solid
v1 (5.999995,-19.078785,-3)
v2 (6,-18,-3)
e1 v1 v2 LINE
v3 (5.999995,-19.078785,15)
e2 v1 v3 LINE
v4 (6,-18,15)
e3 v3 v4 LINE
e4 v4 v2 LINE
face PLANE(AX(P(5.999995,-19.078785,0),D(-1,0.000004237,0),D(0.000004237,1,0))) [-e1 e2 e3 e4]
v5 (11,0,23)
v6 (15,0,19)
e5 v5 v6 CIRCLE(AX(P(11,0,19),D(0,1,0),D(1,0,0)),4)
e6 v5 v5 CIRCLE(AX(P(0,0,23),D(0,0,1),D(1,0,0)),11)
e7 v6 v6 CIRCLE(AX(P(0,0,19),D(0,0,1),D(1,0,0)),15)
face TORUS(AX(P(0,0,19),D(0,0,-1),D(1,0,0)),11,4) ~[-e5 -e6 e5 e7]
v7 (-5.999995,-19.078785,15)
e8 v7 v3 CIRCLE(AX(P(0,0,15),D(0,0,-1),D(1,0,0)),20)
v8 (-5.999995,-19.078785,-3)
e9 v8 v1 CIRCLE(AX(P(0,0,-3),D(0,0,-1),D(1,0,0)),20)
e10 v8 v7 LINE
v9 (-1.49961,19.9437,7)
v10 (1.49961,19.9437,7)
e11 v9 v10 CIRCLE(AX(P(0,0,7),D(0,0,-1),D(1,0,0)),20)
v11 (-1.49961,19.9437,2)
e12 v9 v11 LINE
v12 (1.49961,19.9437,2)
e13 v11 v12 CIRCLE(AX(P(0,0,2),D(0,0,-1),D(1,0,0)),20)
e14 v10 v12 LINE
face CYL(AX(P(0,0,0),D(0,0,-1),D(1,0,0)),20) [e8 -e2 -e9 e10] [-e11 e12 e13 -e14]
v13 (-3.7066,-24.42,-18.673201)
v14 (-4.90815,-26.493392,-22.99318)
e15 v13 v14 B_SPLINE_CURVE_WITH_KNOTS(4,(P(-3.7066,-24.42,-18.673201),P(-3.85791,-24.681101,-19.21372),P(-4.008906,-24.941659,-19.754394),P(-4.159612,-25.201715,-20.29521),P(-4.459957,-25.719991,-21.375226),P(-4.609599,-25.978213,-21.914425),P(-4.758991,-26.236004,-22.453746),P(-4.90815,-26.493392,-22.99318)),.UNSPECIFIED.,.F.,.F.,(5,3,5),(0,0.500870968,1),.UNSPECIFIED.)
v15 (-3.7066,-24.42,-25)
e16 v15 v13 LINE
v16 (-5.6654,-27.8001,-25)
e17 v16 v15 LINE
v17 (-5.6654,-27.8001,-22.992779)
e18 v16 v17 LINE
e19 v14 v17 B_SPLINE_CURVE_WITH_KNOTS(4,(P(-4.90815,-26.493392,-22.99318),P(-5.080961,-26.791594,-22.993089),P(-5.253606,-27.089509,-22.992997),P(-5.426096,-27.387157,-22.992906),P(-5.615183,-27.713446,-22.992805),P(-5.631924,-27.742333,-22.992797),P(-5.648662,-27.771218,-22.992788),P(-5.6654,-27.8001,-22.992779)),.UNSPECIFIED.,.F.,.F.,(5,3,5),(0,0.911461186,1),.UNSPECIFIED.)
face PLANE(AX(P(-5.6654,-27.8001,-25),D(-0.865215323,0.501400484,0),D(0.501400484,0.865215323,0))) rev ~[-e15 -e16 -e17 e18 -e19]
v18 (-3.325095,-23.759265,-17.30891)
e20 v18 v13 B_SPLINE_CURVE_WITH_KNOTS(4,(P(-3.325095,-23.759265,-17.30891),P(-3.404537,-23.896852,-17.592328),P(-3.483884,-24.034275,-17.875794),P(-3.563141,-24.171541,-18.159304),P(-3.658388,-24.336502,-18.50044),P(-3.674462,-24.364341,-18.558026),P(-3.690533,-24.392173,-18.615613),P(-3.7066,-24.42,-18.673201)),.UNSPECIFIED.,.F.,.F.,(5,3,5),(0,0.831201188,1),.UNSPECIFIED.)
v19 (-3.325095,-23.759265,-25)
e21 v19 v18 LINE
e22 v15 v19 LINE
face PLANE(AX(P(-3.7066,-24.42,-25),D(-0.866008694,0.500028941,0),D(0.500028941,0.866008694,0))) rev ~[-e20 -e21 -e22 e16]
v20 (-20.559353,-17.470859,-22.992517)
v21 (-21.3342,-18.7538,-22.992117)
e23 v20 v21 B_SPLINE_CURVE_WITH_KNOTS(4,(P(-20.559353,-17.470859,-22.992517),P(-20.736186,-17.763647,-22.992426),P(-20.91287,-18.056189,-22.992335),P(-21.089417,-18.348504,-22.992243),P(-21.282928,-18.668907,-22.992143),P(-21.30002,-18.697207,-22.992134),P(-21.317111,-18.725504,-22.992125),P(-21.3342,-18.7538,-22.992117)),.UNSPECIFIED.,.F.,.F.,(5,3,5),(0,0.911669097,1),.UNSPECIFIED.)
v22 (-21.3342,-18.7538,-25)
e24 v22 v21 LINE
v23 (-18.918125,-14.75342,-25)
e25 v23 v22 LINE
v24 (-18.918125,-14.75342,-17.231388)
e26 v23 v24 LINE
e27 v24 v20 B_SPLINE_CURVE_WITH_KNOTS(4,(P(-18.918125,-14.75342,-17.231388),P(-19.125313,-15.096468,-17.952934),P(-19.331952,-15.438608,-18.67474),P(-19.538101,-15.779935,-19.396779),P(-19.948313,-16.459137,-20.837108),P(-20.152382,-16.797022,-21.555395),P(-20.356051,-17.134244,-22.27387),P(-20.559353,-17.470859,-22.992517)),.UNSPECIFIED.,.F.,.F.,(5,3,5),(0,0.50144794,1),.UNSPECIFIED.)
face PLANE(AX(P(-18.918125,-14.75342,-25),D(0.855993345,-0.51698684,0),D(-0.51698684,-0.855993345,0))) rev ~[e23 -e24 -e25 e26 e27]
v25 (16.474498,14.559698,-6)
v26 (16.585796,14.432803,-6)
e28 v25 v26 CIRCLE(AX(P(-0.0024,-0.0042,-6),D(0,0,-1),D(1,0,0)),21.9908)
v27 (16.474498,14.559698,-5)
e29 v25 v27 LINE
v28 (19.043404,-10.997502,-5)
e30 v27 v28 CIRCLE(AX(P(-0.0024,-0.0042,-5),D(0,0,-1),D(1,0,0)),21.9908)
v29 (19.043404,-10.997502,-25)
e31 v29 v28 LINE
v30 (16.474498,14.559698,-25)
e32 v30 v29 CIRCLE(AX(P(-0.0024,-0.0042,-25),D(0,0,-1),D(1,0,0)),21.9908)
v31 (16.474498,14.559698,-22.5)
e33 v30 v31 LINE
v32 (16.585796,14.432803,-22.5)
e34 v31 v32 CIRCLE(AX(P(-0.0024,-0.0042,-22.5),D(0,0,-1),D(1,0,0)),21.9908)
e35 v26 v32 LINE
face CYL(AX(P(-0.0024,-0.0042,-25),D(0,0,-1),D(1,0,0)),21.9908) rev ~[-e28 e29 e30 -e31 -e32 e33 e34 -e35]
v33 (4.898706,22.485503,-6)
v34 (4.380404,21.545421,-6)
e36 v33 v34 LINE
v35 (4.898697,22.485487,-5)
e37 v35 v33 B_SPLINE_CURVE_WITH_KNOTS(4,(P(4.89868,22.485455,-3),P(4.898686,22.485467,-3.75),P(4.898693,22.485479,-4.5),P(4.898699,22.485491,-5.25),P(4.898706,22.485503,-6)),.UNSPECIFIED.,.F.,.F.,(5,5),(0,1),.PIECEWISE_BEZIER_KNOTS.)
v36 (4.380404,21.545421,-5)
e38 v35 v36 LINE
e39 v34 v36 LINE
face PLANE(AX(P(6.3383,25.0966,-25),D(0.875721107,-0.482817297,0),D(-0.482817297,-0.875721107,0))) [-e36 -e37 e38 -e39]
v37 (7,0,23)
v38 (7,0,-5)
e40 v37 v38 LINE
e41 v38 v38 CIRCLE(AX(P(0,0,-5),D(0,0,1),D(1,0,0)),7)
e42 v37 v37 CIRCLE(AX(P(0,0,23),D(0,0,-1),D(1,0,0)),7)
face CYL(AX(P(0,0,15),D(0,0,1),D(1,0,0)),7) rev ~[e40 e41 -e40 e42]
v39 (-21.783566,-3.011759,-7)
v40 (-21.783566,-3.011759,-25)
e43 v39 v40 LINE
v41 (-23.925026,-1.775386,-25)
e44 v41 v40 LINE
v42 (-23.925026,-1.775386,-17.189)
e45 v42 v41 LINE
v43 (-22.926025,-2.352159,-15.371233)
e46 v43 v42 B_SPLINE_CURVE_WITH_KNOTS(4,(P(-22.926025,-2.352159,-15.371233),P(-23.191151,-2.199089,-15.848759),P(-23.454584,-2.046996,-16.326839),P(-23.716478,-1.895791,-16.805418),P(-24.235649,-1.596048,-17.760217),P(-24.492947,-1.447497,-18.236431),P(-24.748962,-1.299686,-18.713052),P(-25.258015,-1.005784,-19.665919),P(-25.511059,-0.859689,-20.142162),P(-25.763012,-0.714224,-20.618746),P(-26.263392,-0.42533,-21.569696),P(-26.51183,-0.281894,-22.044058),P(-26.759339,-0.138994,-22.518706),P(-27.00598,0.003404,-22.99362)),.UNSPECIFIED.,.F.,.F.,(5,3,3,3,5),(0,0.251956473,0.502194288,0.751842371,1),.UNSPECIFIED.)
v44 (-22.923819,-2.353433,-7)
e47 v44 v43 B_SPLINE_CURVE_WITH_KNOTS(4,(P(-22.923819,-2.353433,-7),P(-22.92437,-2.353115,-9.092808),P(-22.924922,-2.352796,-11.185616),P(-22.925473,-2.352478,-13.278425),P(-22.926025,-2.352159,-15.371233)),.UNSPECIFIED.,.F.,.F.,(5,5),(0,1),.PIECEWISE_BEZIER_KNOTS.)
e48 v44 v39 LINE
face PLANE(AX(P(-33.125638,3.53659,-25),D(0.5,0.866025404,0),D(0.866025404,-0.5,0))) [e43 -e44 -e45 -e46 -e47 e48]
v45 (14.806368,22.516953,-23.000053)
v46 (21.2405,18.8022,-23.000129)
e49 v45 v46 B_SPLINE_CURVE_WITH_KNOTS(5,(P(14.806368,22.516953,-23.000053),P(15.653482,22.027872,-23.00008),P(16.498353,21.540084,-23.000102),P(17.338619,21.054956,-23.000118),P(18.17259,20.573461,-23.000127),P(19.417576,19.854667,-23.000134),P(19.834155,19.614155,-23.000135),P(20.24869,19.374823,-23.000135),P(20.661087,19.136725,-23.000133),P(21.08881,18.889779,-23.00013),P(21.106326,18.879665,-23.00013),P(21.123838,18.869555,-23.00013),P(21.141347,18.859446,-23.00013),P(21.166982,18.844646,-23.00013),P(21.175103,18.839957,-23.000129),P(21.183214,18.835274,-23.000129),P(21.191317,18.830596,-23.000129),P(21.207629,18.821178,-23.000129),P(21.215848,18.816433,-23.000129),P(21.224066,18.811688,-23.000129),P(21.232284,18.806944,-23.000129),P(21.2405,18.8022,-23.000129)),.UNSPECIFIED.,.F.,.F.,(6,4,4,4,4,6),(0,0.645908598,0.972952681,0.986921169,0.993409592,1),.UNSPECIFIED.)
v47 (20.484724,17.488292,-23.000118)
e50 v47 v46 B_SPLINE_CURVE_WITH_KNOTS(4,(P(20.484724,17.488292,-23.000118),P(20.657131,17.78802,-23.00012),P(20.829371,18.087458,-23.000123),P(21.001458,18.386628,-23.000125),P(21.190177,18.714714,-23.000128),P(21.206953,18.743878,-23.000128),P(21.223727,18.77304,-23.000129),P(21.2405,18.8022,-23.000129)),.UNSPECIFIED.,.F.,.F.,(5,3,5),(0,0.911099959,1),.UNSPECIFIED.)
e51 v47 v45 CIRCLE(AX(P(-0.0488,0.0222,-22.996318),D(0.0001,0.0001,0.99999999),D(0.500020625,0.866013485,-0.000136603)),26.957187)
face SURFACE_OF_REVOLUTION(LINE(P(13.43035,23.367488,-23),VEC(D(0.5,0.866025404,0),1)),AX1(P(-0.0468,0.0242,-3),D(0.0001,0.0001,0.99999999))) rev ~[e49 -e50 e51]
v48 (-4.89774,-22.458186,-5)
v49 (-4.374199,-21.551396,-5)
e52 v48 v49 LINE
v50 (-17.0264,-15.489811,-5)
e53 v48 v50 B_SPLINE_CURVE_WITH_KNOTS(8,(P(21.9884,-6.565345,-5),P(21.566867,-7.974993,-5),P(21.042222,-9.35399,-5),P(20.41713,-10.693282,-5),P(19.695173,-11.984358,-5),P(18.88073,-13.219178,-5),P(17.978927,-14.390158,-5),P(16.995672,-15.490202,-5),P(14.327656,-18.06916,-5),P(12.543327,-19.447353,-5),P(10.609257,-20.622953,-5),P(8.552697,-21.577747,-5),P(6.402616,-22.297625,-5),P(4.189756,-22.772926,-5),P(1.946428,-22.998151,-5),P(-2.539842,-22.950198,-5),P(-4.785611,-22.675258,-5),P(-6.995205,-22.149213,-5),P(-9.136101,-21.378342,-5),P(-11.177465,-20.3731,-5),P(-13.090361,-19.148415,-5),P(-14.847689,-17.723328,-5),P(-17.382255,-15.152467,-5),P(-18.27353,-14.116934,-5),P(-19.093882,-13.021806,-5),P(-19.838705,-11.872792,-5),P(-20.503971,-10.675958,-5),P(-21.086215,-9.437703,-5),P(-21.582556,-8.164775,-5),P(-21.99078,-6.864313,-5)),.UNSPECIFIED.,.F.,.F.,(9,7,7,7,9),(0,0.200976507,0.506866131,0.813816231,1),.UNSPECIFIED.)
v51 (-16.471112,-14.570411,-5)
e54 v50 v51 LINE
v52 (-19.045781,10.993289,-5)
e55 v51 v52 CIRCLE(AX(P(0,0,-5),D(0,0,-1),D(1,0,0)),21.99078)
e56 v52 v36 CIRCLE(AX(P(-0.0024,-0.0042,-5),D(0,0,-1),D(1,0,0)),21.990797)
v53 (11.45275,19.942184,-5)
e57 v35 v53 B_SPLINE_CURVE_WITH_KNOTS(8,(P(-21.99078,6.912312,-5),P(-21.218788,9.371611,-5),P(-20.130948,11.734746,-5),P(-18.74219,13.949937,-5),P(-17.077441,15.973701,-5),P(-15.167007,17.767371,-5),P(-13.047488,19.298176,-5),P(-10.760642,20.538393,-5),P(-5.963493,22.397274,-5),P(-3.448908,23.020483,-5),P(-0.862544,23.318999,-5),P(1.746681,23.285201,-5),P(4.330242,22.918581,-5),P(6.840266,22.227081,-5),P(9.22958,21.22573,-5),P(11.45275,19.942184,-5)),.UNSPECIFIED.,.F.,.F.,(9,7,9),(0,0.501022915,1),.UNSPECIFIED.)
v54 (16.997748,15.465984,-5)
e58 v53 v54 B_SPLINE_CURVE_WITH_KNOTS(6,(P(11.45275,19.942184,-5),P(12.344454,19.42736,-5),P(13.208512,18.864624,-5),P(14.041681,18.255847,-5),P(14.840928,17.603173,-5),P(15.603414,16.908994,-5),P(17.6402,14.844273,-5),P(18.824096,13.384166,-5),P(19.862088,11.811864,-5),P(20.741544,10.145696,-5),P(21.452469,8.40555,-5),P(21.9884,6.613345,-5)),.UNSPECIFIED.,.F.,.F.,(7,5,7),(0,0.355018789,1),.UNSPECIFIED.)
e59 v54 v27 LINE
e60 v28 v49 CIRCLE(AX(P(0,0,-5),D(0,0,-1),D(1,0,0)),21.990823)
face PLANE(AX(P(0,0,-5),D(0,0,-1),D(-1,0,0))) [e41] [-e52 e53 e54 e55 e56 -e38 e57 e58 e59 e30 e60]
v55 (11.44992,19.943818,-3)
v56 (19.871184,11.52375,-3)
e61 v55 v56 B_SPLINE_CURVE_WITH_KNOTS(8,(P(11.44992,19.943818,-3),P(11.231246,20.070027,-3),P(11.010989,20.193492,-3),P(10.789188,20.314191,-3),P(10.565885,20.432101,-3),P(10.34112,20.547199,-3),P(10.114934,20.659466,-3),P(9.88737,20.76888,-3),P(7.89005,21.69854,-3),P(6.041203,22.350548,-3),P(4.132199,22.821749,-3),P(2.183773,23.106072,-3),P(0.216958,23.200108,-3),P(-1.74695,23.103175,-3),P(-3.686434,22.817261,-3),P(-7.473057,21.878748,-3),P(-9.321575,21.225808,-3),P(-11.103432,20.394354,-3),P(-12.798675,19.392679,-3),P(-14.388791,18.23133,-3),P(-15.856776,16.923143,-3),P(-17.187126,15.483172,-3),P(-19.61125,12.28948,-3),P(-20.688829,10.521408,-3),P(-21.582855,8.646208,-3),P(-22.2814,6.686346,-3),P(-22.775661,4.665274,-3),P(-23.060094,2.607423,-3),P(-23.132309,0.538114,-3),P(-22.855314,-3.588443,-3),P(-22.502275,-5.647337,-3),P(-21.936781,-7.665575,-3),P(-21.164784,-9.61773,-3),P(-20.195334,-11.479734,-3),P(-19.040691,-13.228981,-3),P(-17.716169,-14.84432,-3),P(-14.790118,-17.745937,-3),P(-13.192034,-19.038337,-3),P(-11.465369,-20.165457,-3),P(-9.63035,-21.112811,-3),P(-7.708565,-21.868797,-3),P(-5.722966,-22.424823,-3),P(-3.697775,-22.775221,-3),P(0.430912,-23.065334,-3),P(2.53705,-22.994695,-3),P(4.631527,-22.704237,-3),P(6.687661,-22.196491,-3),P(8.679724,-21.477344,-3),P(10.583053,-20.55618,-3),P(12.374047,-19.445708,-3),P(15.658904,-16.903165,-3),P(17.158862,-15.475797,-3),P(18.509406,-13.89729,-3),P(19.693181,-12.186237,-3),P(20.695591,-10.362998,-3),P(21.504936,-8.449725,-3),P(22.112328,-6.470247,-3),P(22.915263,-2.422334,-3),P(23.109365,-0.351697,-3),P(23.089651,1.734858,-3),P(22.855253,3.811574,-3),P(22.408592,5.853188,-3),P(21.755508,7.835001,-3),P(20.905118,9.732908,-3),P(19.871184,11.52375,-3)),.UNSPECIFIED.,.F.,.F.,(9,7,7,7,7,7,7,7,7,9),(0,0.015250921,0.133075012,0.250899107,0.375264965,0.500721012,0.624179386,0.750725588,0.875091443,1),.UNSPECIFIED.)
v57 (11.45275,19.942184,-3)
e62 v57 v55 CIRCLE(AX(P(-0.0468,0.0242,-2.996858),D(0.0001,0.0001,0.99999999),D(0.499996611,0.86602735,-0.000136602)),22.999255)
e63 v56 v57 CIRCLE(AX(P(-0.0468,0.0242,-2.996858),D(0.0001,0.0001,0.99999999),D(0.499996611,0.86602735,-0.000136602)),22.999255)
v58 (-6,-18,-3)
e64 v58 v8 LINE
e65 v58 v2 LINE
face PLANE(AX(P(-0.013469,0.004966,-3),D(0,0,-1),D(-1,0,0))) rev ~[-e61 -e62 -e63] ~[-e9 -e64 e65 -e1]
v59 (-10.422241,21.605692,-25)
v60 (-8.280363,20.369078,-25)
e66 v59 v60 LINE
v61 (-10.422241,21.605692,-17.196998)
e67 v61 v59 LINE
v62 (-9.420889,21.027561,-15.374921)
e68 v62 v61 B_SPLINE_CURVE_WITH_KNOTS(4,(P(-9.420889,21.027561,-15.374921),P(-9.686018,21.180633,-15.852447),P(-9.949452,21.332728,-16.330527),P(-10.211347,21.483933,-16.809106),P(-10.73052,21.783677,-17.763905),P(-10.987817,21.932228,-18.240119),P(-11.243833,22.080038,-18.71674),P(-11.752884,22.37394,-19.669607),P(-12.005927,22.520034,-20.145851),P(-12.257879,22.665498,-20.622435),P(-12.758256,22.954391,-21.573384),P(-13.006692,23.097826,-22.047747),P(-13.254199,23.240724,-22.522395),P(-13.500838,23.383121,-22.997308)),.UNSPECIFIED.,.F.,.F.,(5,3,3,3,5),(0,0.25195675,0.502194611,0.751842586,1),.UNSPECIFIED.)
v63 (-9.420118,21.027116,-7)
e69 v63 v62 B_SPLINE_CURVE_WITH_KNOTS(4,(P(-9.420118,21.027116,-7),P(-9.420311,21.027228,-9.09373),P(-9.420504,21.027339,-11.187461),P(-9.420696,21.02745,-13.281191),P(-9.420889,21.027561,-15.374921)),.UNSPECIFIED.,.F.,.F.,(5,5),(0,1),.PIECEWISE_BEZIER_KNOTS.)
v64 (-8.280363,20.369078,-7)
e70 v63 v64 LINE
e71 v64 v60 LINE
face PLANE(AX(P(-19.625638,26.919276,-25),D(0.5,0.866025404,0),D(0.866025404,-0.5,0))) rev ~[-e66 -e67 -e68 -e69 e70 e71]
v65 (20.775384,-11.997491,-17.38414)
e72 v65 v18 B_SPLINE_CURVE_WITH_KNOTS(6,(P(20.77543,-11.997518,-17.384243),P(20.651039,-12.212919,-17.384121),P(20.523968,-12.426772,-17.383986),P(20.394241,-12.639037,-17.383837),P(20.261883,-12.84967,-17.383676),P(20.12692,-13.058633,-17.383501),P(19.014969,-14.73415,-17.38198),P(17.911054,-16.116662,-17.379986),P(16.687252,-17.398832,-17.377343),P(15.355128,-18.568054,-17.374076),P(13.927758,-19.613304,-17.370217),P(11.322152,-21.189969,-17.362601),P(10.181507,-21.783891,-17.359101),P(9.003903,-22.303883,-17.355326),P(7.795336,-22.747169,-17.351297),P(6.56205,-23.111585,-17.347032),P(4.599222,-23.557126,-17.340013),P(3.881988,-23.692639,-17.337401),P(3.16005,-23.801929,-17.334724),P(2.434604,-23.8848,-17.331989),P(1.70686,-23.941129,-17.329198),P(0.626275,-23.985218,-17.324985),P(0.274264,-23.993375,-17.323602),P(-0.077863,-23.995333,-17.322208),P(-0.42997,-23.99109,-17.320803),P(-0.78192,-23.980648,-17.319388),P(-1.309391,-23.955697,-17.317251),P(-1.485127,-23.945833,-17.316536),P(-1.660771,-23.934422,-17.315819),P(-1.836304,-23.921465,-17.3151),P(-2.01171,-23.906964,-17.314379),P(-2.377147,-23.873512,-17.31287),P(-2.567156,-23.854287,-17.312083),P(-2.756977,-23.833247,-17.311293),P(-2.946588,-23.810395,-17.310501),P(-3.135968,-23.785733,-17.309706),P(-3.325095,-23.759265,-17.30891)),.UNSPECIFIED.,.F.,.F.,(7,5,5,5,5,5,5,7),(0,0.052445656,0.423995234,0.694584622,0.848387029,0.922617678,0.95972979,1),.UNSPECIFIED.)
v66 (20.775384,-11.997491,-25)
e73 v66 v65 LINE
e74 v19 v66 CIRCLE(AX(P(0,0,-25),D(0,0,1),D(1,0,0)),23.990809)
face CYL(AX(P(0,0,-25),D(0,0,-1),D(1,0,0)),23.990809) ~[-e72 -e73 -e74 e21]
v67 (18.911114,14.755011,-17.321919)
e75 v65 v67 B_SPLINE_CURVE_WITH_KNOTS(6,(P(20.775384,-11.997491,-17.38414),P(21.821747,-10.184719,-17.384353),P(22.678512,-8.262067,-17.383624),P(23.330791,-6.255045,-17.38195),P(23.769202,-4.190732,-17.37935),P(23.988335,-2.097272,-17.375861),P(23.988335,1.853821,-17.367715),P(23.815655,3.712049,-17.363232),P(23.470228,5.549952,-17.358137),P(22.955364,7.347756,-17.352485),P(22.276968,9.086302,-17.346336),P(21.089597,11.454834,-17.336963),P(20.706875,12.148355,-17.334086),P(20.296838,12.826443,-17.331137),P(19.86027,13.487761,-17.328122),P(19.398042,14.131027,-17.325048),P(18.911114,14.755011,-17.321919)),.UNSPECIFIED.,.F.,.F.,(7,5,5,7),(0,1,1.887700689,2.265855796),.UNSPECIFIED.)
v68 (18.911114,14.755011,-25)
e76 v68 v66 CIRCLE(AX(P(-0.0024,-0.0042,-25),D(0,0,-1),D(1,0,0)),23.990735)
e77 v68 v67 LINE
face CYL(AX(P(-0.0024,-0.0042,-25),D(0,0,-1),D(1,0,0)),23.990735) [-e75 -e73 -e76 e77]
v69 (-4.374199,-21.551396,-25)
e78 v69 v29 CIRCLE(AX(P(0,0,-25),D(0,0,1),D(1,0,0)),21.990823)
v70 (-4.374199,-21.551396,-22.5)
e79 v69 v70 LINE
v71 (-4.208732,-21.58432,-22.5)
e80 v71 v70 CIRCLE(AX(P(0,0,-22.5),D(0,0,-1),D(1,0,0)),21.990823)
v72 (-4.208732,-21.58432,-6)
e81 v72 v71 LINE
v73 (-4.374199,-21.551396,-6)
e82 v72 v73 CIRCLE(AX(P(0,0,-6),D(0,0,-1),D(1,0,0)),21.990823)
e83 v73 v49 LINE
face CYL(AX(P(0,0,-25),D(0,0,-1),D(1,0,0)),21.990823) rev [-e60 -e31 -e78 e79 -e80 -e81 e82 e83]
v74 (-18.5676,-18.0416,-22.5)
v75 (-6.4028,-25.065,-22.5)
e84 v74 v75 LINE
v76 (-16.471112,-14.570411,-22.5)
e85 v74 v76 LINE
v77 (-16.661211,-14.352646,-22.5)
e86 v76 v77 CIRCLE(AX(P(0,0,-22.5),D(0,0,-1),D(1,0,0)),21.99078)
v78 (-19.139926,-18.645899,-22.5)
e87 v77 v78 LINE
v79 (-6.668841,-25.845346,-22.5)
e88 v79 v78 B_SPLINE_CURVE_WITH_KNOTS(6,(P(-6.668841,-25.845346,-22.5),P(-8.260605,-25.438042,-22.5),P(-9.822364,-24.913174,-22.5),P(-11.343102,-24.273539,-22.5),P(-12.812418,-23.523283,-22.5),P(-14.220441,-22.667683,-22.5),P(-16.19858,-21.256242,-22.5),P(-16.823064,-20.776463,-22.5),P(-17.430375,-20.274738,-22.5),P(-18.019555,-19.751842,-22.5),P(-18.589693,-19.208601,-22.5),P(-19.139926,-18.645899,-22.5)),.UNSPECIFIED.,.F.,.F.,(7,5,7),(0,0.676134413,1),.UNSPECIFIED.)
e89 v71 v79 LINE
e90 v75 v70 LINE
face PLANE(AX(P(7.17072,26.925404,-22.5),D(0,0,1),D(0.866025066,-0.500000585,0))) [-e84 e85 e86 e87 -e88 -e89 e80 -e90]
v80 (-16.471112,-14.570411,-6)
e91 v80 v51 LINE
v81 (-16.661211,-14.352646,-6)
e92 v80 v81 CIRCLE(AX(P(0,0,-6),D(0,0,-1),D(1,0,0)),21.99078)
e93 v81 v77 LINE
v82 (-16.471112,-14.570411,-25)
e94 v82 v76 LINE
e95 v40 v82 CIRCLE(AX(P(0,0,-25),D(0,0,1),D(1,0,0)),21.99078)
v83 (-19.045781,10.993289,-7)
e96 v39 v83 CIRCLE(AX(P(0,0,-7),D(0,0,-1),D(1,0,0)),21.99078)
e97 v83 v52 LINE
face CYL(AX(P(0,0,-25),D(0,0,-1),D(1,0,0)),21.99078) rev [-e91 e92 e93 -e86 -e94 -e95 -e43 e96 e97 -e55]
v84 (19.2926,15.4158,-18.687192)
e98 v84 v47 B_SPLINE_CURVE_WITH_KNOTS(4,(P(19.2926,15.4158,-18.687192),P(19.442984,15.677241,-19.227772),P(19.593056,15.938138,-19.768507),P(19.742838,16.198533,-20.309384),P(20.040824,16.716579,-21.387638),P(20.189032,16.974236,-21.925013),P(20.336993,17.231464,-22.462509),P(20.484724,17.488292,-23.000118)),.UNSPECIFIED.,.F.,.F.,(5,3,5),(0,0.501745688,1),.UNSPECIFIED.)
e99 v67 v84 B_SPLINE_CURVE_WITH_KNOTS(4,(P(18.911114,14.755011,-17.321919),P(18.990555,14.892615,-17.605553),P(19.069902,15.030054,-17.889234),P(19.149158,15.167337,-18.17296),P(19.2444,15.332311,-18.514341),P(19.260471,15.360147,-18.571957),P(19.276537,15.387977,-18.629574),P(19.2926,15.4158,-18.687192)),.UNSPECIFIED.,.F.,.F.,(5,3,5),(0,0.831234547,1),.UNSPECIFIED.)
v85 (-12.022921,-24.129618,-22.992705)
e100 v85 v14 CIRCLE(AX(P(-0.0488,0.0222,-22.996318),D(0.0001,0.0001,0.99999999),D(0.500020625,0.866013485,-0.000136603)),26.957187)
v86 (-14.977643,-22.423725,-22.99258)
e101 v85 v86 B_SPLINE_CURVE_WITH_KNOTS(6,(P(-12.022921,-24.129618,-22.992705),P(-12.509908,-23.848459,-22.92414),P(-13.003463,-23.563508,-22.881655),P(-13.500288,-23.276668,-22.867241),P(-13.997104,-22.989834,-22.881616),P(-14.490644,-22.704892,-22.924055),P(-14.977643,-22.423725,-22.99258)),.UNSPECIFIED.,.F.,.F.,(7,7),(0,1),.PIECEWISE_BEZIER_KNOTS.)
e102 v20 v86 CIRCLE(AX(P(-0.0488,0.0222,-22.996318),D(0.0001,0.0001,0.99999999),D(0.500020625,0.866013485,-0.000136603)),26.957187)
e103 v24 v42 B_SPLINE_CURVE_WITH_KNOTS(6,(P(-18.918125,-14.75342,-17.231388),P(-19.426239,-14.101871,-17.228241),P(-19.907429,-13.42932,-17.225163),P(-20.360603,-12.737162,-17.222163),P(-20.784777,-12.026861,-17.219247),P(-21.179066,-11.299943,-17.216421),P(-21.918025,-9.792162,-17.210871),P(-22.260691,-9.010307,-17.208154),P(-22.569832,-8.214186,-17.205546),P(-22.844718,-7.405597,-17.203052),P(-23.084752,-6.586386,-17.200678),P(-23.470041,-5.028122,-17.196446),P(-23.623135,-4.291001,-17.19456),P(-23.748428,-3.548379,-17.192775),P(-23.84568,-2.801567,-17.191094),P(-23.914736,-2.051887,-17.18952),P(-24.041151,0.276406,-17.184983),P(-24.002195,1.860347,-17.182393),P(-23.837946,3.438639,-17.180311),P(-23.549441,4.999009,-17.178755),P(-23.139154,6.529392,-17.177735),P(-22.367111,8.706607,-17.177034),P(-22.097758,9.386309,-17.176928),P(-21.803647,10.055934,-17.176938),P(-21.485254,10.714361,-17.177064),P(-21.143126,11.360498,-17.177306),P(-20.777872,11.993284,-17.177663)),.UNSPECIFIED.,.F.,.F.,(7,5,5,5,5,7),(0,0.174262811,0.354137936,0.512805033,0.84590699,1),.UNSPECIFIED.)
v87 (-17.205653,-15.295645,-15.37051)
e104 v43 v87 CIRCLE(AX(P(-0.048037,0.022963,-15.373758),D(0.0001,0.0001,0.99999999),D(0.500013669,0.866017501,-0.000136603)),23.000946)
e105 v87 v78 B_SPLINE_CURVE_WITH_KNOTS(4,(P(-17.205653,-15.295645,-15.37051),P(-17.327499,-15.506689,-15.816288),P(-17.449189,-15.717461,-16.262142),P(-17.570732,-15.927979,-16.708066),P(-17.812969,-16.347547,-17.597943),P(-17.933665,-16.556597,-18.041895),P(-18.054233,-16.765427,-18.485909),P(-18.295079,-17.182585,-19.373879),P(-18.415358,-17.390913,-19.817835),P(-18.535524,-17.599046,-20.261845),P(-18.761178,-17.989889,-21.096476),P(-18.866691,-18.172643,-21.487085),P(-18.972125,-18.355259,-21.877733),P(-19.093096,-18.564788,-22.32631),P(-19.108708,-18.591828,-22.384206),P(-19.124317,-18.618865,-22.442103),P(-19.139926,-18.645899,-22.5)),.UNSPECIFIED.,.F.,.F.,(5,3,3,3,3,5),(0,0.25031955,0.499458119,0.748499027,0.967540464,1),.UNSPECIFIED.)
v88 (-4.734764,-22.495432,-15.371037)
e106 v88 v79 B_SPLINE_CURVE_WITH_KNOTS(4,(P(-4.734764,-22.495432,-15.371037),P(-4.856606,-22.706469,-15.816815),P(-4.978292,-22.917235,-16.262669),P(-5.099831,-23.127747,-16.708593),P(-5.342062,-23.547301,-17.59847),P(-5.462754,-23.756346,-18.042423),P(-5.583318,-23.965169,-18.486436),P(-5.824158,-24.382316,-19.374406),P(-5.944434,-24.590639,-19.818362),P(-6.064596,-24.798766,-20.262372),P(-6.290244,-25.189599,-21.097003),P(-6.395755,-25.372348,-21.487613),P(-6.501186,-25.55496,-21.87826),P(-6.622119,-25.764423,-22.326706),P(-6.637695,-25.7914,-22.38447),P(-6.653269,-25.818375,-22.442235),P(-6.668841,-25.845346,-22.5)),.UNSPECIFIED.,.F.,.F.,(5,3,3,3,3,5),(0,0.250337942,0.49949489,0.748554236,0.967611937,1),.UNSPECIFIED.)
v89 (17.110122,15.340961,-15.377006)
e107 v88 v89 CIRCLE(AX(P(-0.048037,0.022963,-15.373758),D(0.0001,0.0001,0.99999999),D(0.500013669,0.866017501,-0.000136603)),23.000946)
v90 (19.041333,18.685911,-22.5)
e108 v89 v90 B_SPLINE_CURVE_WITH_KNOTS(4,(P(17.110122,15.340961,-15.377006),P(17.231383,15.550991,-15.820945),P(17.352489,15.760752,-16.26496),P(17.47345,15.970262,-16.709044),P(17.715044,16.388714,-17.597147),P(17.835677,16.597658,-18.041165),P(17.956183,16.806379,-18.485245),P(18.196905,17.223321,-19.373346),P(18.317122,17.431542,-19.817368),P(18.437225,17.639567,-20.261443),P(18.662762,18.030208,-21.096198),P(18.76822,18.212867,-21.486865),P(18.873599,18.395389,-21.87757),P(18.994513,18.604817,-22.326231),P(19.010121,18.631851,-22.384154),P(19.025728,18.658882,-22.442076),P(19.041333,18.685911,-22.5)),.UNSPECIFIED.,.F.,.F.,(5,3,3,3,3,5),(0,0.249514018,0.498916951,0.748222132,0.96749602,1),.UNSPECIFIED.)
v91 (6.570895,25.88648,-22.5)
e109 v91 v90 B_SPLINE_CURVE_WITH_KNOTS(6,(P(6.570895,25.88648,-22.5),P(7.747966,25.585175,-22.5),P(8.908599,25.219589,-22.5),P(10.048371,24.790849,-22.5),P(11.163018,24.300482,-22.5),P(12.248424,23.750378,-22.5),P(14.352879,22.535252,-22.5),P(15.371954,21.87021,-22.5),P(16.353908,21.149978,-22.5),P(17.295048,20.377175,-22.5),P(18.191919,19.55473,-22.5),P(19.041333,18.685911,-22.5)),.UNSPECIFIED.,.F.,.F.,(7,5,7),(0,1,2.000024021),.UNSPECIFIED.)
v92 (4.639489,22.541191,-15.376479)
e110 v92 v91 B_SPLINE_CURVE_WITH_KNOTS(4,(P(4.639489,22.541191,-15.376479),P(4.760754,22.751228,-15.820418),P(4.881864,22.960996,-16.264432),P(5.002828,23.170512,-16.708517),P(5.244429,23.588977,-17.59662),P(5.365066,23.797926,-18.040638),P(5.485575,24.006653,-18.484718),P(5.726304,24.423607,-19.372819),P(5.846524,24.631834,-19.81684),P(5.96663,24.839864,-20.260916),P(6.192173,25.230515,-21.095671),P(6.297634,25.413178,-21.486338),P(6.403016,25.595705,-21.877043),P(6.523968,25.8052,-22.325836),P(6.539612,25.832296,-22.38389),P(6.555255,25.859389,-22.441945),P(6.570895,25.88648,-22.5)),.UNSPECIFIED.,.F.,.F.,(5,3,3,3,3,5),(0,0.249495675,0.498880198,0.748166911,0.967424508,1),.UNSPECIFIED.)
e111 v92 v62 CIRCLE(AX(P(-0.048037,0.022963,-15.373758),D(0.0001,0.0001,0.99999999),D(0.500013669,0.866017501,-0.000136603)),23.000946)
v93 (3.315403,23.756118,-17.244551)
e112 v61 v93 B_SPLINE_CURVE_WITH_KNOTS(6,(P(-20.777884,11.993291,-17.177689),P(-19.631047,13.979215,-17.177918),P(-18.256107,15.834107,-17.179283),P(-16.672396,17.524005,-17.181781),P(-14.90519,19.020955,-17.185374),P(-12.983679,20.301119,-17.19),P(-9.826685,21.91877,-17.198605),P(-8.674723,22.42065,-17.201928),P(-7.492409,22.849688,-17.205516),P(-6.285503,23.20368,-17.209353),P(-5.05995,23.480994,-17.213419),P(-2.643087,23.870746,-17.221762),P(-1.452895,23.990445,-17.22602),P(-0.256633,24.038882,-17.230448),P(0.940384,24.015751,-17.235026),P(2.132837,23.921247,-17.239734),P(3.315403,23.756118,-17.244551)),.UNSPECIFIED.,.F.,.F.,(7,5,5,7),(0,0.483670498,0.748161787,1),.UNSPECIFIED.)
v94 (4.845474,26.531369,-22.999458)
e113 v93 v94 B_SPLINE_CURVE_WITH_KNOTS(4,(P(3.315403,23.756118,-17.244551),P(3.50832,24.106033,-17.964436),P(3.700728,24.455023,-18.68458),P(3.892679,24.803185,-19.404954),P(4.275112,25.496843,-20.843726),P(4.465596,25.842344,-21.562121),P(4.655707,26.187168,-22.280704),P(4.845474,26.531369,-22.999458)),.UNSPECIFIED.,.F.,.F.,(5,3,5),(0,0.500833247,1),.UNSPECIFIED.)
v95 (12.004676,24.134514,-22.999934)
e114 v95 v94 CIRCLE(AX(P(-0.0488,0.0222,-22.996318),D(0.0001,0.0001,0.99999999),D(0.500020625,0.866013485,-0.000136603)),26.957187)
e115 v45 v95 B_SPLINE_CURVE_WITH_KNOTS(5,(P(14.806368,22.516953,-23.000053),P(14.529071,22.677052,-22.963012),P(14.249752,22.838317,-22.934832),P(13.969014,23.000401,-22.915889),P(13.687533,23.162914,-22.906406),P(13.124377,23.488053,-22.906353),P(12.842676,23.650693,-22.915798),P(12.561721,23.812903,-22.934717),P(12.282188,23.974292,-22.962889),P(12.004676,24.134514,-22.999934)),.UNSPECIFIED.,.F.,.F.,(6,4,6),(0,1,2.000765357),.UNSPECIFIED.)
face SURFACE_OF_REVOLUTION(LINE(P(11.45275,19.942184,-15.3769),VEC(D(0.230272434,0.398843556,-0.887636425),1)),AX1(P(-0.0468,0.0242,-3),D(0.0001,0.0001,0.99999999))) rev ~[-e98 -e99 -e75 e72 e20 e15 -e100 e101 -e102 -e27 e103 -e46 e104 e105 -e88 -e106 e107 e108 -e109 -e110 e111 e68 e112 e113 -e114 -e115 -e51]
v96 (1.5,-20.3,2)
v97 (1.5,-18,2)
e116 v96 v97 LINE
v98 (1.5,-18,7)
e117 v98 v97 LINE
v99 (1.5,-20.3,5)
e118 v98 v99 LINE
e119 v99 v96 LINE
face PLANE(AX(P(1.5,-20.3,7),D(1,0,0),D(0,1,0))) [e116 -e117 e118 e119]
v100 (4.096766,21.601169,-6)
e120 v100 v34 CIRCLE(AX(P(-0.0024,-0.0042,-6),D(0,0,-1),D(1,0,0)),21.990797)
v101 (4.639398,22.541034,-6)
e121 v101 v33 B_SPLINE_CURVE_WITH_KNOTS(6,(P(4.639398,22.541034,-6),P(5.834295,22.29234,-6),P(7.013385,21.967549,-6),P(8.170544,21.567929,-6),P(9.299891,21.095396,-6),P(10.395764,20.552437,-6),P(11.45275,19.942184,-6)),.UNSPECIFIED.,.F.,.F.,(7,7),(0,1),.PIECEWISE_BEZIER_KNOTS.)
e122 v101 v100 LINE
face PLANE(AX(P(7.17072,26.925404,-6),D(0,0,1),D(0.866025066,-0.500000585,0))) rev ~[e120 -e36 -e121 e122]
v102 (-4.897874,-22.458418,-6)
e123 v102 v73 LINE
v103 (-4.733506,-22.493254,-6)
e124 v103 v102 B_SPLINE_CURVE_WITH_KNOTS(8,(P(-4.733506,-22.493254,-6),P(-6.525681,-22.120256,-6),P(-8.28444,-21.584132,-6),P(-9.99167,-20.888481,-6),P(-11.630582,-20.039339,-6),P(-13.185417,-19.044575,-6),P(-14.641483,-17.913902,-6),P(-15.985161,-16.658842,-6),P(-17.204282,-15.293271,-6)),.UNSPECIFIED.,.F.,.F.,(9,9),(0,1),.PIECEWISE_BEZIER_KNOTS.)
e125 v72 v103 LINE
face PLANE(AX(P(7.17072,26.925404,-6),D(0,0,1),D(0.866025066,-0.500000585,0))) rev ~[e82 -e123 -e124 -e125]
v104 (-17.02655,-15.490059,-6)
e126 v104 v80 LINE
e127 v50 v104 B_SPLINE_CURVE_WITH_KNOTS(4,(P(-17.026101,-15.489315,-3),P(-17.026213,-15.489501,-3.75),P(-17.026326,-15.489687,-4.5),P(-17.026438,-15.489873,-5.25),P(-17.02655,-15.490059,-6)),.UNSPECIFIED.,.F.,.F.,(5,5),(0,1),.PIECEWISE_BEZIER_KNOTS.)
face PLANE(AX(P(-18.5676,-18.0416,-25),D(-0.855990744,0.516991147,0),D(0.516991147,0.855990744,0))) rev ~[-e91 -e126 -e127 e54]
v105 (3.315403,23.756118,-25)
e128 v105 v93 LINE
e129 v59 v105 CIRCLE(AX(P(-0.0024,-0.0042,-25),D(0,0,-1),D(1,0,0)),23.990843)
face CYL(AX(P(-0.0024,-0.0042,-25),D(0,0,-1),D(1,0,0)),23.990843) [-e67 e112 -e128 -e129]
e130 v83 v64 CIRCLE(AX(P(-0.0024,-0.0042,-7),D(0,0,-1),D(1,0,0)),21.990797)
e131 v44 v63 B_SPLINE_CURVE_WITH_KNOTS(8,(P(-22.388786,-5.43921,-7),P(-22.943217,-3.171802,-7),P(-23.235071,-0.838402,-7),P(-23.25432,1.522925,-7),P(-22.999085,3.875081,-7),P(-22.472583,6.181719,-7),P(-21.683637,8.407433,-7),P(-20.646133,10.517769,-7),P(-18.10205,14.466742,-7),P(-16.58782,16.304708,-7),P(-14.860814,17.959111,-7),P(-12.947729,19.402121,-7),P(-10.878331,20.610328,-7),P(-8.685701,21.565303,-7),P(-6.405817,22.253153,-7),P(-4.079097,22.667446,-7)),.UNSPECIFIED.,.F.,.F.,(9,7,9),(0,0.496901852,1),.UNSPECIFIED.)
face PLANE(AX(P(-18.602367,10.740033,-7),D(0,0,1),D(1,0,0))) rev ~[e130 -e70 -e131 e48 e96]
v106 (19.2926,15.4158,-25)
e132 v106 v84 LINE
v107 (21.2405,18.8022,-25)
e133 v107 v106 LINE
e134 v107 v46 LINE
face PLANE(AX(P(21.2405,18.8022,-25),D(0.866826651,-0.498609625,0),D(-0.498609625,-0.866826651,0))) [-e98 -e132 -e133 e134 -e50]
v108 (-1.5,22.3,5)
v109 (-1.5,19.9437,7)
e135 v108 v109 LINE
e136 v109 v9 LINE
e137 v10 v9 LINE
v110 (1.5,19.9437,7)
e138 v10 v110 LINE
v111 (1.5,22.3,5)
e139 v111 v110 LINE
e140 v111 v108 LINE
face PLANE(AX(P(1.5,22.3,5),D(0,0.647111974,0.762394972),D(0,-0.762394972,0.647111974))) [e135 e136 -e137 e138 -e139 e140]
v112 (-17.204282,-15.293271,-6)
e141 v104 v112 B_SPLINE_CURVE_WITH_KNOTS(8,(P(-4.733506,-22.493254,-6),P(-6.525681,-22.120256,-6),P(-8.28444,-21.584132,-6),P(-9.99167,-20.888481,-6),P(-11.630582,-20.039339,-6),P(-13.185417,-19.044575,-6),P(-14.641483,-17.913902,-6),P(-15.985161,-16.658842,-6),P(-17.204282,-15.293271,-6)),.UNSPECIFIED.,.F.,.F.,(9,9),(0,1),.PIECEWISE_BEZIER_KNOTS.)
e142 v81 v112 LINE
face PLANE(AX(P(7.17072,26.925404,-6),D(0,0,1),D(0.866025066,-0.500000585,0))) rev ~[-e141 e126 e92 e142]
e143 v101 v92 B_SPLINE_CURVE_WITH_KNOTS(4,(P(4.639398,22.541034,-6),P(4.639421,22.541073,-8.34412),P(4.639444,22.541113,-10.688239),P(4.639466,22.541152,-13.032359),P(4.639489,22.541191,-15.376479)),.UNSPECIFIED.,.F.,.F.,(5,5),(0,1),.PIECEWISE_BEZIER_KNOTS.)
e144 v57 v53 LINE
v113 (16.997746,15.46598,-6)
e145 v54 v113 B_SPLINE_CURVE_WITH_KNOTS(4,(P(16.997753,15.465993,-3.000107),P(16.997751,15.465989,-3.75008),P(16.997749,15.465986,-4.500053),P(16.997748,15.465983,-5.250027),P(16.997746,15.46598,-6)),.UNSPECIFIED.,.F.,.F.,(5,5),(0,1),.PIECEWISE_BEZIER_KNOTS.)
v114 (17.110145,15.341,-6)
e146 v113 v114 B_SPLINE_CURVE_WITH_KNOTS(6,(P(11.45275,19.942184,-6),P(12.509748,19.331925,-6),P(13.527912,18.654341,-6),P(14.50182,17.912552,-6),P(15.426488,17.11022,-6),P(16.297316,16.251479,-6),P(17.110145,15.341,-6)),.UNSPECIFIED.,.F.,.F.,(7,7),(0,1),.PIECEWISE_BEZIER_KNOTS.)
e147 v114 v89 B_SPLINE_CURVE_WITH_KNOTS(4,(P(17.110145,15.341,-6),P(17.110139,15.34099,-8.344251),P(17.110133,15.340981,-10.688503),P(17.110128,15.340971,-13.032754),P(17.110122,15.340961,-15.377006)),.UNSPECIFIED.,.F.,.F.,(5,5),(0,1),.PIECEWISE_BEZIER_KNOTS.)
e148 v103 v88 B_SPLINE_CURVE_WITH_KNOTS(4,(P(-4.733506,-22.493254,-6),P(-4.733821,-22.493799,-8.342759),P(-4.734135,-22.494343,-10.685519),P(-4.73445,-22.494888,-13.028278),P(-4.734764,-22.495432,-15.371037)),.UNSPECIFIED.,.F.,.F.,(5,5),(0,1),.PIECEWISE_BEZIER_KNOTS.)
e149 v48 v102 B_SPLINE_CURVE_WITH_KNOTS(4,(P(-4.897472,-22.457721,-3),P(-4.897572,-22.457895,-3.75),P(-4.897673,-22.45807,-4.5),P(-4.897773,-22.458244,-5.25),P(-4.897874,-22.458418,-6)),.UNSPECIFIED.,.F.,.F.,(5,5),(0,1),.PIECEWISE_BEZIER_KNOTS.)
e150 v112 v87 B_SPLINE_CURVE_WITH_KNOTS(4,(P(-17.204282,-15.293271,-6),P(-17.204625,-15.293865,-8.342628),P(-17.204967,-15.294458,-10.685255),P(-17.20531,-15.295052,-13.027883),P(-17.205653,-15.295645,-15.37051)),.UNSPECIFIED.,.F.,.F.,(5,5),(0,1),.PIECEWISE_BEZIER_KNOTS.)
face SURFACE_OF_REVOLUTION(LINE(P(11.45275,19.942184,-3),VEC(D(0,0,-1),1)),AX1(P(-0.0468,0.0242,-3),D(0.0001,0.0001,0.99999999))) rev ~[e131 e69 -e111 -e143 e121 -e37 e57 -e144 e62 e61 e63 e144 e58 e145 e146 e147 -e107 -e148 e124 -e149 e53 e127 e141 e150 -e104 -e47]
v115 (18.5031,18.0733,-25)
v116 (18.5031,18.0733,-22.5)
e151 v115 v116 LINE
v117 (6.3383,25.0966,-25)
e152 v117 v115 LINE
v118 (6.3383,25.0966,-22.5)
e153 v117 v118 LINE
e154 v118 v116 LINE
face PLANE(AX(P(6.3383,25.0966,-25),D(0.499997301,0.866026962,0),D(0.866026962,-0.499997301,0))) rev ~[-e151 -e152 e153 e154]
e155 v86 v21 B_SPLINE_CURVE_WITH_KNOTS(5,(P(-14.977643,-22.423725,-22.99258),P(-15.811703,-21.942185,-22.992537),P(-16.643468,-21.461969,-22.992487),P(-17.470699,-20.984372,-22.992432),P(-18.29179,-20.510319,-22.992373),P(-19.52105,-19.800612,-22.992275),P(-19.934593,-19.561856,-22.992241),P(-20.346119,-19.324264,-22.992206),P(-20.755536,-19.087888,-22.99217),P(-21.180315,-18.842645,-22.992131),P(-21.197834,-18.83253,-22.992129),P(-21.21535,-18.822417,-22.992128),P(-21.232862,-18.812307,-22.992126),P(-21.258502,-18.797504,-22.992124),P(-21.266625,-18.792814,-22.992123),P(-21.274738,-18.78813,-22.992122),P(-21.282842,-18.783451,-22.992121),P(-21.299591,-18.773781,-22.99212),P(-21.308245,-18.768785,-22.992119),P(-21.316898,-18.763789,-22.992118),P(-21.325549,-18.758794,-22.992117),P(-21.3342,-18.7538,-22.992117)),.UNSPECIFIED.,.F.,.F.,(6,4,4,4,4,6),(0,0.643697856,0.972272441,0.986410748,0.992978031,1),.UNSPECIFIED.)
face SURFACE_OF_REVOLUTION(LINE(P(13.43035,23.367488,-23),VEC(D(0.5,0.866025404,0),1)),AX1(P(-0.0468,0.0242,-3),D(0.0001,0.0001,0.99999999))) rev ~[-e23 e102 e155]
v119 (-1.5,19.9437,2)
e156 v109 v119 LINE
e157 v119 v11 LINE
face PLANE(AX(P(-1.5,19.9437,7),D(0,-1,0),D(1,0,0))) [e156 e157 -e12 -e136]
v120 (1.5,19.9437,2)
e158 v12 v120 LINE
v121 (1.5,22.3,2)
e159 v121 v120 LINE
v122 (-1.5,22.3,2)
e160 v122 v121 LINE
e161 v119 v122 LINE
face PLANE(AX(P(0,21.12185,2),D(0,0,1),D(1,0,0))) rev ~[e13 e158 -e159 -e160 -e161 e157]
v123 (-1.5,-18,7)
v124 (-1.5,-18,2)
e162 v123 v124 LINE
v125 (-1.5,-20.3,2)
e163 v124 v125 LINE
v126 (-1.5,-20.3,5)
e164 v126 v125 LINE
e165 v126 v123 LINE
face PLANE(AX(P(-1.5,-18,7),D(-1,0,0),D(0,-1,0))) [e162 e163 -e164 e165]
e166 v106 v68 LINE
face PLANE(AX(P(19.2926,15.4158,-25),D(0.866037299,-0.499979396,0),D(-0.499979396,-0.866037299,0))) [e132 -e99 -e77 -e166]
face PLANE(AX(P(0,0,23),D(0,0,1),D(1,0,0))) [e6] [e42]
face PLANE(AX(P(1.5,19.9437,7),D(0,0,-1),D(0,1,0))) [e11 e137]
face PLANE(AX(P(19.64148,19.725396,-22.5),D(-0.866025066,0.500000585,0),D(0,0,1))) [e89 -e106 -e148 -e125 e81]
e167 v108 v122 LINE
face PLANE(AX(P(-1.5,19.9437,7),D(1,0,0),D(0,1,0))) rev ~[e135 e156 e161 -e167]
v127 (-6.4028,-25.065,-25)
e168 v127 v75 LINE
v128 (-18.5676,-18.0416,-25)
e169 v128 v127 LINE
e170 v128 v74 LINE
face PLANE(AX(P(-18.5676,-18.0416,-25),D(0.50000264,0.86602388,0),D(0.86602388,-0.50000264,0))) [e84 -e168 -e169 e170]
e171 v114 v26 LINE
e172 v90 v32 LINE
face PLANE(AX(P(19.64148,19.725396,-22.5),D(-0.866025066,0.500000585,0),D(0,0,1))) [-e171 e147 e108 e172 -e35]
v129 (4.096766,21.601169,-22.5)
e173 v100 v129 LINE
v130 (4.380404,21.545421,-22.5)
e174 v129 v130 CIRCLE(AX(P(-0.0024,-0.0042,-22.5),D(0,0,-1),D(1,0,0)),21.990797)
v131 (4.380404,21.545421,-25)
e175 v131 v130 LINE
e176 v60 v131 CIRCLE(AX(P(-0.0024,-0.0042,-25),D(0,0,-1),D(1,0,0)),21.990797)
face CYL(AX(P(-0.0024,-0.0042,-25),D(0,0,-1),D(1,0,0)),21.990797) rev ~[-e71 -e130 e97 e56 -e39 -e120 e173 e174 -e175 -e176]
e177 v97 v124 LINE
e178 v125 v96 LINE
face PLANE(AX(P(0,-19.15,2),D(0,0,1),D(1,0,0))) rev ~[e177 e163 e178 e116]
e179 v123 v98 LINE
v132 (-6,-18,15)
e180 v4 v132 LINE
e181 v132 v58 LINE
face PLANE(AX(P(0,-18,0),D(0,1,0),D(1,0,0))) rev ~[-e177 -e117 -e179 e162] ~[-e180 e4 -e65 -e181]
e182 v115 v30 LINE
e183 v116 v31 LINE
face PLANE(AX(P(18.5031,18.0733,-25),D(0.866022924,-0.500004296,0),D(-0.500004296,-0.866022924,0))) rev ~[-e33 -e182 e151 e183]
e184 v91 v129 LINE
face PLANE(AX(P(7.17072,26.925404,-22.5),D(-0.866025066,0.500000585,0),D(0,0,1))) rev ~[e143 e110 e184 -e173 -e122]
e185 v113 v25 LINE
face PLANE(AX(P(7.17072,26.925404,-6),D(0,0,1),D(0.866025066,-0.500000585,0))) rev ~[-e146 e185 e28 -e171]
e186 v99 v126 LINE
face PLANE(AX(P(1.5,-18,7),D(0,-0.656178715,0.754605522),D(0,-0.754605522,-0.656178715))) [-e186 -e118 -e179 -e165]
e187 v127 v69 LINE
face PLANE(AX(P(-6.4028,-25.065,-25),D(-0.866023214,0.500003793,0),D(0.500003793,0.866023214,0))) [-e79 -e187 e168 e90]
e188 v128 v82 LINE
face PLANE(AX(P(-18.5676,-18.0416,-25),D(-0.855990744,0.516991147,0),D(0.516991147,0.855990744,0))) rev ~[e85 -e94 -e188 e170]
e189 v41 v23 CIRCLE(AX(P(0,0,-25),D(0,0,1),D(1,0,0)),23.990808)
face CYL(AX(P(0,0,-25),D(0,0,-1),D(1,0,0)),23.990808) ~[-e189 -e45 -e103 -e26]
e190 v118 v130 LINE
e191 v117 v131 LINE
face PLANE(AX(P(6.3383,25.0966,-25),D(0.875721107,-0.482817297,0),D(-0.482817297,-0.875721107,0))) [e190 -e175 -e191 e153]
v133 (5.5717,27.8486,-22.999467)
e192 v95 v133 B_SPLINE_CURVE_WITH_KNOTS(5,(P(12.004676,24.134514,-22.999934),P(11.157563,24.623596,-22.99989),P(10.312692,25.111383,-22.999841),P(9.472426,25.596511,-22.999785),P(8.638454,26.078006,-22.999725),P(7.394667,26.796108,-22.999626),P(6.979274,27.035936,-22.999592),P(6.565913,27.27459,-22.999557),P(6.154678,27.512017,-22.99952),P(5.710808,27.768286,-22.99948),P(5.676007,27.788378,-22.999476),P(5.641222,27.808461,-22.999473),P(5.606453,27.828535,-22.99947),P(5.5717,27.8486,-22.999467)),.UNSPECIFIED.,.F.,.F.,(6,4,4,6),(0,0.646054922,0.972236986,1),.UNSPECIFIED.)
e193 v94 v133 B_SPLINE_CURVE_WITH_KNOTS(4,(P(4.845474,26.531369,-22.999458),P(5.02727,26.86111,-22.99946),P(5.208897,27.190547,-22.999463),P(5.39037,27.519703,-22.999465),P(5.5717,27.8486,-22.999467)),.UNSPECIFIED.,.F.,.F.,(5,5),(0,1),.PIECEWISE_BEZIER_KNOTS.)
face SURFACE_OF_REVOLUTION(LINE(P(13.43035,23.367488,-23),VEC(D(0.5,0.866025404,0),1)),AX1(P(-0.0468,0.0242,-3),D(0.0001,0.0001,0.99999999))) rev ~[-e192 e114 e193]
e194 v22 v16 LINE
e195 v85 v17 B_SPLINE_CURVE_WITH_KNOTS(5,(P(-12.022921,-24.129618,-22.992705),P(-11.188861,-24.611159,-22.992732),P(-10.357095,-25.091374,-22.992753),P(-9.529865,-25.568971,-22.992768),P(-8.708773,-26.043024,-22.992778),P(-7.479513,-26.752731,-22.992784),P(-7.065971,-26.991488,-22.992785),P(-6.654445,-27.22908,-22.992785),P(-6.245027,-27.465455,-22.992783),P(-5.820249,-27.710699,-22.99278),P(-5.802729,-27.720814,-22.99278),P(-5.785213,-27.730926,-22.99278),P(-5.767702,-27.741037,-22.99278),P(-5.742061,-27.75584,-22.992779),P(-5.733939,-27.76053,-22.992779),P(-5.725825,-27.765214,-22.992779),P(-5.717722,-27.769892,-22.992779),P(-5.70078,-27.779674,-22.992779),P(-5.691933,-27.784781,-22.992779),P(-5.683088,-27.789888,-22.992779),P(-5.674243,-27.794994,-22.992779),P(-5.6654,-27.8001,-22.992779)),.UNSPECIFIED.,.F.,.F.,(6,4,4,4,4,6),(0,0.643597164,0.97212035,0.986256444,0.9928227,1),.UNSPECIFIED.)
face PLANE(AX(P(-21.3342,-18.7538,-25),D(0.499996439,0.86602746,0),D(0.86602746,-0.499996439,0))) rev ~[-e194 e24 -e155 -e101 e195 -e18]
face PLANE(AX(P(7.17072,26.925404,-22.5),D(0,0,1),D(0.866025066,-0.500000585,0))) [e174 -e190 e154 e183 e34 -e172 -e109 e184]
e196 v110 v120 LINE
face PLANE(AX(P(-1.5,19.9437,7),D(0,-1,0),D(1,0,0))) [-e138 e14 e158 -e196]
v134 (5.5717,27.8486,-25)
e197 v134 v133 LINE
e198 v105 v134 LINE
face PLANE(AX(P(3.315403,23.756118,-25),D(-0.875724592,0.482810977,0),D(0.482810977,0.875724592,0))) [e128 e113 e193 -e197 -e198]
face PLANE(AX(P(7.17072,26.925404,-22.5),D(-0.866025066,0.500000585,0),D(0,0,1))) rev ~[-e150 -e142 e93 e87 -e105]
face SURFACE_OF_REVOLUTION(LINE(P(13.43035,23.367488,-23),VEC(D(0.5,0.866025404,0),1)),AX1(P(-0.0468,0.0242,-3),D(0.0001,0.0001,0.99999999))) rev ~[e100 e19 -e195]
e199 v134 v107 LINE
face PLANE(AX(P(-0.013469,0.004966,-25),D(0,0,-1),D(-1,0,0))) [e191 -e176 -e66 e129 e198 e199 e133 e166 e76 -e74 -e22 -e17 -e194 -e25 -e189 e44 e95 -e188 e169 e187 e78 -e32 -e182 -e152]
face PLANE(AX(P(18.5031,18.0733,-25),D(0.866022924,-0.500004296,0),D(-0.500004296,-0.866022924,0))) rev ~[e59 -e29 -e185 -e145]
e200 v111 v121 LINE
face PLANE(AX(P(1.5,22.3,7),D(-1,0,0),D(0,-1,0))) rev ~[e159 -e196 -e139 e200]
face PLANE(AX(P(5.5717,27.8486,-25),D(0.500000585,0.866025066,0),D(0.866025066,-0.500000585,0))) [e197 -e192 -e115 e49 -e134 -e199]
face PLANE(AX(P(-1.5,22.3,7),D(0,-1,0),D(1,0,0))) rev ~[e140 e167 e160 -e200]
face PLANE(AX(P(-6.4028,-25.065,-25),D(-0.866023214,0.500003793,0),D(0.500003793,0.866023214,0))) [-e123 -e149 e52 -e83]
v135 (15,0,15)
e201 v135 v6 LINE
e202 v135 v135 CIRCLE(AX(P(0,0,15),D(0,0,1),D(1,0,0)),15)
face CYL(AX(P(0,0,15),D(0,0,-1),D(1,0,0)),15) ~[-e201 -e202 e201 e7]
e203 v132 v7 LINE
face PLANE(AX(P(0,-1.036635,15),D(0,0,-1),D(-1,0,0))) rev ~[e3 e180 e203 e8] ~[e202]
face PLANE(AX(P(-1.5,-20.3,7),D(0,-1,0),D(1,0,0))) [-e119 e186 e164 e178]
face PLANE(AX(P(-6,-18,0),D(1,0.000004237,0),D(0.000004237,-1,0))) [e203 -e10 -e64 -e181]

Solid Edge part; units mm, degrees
sketch "Sketch1" plane through (0, 0, 0) normal (0, 0, 1) x (1, 0, 0)
  line L0 (6, -19.0788) -> (6, -18)
  line L1 (0, -18) -> (6, -18)
  line L2 (0, -18) -> (-6, -18)
  line L3 (-6, -18) -> (-6, -19.0788)
  arc A0 (-6, -19.0788) -> (6, -19.0788) centre (0, 0) cw
extrude "Protrusion1" add sketch "Sketch1" along normal blind 15
sketch "Sketch2" plane through (-6, -19.0788, 7) normal (0, 0, 1) x (1, 0, 0)
  line L0 (4.5, -1.2212) -> (7.5, -1.2212)
  line L1 (7.5, -1.2212) -> (7.5, 1.0788)
  line L2 (7.5, 1.0788) -> (6, 1.0788)
  line L3 (6, 1.0788) -> (4.5, 1.0788)
  line L4 (4.5, 1.0788) -> (4.5, -1.2212)
  line L5 (4.5, 39.0225) -> (7.5, 39.0225)
  line L6 (7.5, 41.3788) -> (7.5, 39.0225)
  line L7 (4.5, 41.3788) -> (7.5, 41.3788)
  line L8 (4.5, 39.0225) -> (4.5, 41.3788)
extrude "ExtrudedProtrusion_2" add sketch "Sketch2" against normal blind 5
sketch "Sketch3" plane through (1.5, -19.15, 4.5) normal (1, 0, 0) x (0, 1, 0)
  line L0 (-1.15, 2.5) -> (-1.15, 0.5)
  line L1 (1.15, 2.5) -> (-1.15, 0.5)
  line L2 (-1.15, 2.5) -> (1.15, 2.5)
  line L3 (39.0937, 2.5) -> (41.45, 2.5)
  line L4 (41.45, 2.5) -> (41.45, 0.5)
  line L5 (41.45, 0.5) -> (39.0937, 2.5)
extrude "ExtrudedCutout_1" cut sketch "Sketch3" against normal blind 4.4182
sketch "Sketch4" plane through (0, 0, 0) normal (0, 0, 1) x (1, 0, 0)
  line L0 (6, -19.0788) -> (6, -18)
  line L1 (0, -18) -> (6, -18)
  line L2 (0, -18) -> (-6, -18)
  line L3 (-6, -18) -> (-6, -19.0788)
  arc A0 (-6, -19.0788) -> (6, -19.0788) centre (0, 0) cw
extrude "Protrusion2" add sketch "Sketch4" against normal blind 25
sketch "Sketch5" plane through (0, 0, -25) normal (0, 0, -1) x (1, 0, 0)
  circle A0 centre (0, 0) radius 22.25
extrude "ExtrudedCutout_3" cut sketch "Sketch5" against normal blind 20
sketch "Sketch6" plane through (0, 0.4606, -25) normal (0, 0, -1) x (1, 0, 0)
  line L0 (6.3383, -24.636) -> (4.3804, -21.0848)
  arc A0 (-19.0458, -10.5327) -> (4.3804, -21.0848) centre (-0.0024, 0.4648) ccw
  arc A1 (-19.0458, -10.5327) -> (-16.4711, 15.031) centre (0, 0.4606) cw
  line L1 (-18.5676, 18.5022) -> (-16.4711, 15.031)
  line L2 (-18.5676, 18.5022) -> (-6.4028, 25.5256)
  line L3 (-6.4028, 25.5256) -> (-4.3742, 22.012)
  arc A2 (-4.3742, 22.012) -> (19.0434, 11.4581) centre (0, 0.4606) cw
  arc A3 (16.4745, -14.0991) -> (19.0434, 11.4581) centre (-0.0024, 0.4648) ccw
  line L4 (18.5031, -17.6127) -> (16.4745, -14.0991)
  line L5 (6.3383, -24.636) -> (18.5031, -17.6127)
  line L6 (5.5717, -27.388) -> (21.2405, -18.3416)
  line L7 (21.2405, -18.3416) -> (19.2926, -14.9552)
  line L8 (19.2926, -14.9552) -> (18.9111, -14.2944)
  arc A4 (18.9111, -14.2944) -> (20.7754, 12.4581) centre (-0.0024, 0.4648) ccw
  line L9 (-3.7066, 24.8806) -> (-3.3251, 24.2199)
  line L10 (-5.6654, 28.2607) -> (-3.7066, 24.8806)
  line L11 (-21.3342, 19.2144) -> (-5.6654, 28.2607)
  line L12 (-18.9181, 15.214) -> (-21.3342, 19.2144)
  arc A5 (-20.7779, -11.5327) -> (-18.9181, 15.214) centre (0, 0.4606) cw
  arc A6 (-20.7779, -11.5327) -> (3.3154, -23.2955) centre (-0.0024, 0.4648) ccw
  line L13 (3.3154, -23.2955) -> (5.5717, -27.388)
  arc A7 (-3.3251, 24.2199) -> (20.7754, 12.4581) centre (0, 0.4606) cw
extrude "ExtrudedProtrusion_7" add sketch "Sketch6" against normal blind 22
sketch "Sketch7" plane through (-0.0012, 0.0242, -3) normal (0, 0, 1) x (-0.866, 0.5, 0)
  circle A0 centre (-0.0132, 0.0228) radius 23.9894
extrude "ExtrudedProtrusion_8" add sketch "Sketch7" against normal blind 2
sketch "Sketch8" plane through (13.4061, 23.3254, -14) normal (0.5, 0.866, 0) x (0.866, -0.5, 0)
  line L0 (7.2, 8.5) -> (7.2, -8)
  line L1 (-7.2, -8) -> (7.2, -8)
  line L2 (-7.2, 8.5) -> (-7.2, -8)
  line L3 (-7.2, 8.5) -> (7.2, 8.5)
extrude "ExtrudedCutout_5" cut sketch "Sketch8" against normal blind 108.4405
sketch "Sketch9" plane through (-13.4998, -23.2769, -25) normal (-0.866, 0.5, 0) x (0.5, 0.866, 0)
  line L0 (55.9774, -2) -> (55.9774, -23.7165)
  line L1 (55.9774, -23.7165) -> (49.9051, -23.7165)
  line L2 (49.9051, -23.7165) -> (49.9051, -22)
  line L3 (49.9051, -22) -> (49.9051, -9.6231)
  line L4 (49.9051, -9.6231) -> (53.8603, -2)
  line L5 (53.8603, -2) -> (55.9774, -2)
revolve "RevolvedCutout1" cut sketch "Sketch9" angle 360 about axis through (-0.0468, 0.0242, -3) along (0.0001, 0.0001, 1)
sketch "Sketch10" plane through (-0.0012, 0.0242, -25) normal (0, 0, -1) x (0.866, -0.5, 0)
  line L0 (-30.4428, 13.5204) -> (-12.4912, 13.5204)
  line L1 (-12.4912, 13.5204) -> (-12.4912, -13.4796)
  line L2 (-30.4428, -13.4796) -> (-12.4912, -13.4796)
  line L3 (-30.4428, 13.5204) -> (-30.4428, -13.4796)
extrude "ExtrudedCutout_6" cut sketch "Sketch10" against normal blind 18
sketch "Sketch11" plane through (0, 0.4606, 15) normal (0, 0, 1) x (1, 0, 0)
  circle A0 centre (0, -0.4606) radius 7
extrude "Cutout1" cut sketch "Sketch11" against normal blind 86.2791
sketch "Sketch12" plane through (0, 0.4606, 15) normal (0, 0, 1) x (1, 0, 0)
  circle A0 centre (0, -0.4606) radius 15
extrude "ExtrudedProtrusion_9" add sketch "Sketch12" along normal blind 8
sketch "Sketch13" plane through (0, 0.4606, 15) normal (0, 0, 1) x (1, 0, 0)
  circle A0 centre (0, -0.4606) radius 7
extrude "ExtrudedCutout_8" cut sketch "Sketch13" along normal blind 31.4886
fillet "Round_2" radius 4 1 edges at (-15, 0, 23)
